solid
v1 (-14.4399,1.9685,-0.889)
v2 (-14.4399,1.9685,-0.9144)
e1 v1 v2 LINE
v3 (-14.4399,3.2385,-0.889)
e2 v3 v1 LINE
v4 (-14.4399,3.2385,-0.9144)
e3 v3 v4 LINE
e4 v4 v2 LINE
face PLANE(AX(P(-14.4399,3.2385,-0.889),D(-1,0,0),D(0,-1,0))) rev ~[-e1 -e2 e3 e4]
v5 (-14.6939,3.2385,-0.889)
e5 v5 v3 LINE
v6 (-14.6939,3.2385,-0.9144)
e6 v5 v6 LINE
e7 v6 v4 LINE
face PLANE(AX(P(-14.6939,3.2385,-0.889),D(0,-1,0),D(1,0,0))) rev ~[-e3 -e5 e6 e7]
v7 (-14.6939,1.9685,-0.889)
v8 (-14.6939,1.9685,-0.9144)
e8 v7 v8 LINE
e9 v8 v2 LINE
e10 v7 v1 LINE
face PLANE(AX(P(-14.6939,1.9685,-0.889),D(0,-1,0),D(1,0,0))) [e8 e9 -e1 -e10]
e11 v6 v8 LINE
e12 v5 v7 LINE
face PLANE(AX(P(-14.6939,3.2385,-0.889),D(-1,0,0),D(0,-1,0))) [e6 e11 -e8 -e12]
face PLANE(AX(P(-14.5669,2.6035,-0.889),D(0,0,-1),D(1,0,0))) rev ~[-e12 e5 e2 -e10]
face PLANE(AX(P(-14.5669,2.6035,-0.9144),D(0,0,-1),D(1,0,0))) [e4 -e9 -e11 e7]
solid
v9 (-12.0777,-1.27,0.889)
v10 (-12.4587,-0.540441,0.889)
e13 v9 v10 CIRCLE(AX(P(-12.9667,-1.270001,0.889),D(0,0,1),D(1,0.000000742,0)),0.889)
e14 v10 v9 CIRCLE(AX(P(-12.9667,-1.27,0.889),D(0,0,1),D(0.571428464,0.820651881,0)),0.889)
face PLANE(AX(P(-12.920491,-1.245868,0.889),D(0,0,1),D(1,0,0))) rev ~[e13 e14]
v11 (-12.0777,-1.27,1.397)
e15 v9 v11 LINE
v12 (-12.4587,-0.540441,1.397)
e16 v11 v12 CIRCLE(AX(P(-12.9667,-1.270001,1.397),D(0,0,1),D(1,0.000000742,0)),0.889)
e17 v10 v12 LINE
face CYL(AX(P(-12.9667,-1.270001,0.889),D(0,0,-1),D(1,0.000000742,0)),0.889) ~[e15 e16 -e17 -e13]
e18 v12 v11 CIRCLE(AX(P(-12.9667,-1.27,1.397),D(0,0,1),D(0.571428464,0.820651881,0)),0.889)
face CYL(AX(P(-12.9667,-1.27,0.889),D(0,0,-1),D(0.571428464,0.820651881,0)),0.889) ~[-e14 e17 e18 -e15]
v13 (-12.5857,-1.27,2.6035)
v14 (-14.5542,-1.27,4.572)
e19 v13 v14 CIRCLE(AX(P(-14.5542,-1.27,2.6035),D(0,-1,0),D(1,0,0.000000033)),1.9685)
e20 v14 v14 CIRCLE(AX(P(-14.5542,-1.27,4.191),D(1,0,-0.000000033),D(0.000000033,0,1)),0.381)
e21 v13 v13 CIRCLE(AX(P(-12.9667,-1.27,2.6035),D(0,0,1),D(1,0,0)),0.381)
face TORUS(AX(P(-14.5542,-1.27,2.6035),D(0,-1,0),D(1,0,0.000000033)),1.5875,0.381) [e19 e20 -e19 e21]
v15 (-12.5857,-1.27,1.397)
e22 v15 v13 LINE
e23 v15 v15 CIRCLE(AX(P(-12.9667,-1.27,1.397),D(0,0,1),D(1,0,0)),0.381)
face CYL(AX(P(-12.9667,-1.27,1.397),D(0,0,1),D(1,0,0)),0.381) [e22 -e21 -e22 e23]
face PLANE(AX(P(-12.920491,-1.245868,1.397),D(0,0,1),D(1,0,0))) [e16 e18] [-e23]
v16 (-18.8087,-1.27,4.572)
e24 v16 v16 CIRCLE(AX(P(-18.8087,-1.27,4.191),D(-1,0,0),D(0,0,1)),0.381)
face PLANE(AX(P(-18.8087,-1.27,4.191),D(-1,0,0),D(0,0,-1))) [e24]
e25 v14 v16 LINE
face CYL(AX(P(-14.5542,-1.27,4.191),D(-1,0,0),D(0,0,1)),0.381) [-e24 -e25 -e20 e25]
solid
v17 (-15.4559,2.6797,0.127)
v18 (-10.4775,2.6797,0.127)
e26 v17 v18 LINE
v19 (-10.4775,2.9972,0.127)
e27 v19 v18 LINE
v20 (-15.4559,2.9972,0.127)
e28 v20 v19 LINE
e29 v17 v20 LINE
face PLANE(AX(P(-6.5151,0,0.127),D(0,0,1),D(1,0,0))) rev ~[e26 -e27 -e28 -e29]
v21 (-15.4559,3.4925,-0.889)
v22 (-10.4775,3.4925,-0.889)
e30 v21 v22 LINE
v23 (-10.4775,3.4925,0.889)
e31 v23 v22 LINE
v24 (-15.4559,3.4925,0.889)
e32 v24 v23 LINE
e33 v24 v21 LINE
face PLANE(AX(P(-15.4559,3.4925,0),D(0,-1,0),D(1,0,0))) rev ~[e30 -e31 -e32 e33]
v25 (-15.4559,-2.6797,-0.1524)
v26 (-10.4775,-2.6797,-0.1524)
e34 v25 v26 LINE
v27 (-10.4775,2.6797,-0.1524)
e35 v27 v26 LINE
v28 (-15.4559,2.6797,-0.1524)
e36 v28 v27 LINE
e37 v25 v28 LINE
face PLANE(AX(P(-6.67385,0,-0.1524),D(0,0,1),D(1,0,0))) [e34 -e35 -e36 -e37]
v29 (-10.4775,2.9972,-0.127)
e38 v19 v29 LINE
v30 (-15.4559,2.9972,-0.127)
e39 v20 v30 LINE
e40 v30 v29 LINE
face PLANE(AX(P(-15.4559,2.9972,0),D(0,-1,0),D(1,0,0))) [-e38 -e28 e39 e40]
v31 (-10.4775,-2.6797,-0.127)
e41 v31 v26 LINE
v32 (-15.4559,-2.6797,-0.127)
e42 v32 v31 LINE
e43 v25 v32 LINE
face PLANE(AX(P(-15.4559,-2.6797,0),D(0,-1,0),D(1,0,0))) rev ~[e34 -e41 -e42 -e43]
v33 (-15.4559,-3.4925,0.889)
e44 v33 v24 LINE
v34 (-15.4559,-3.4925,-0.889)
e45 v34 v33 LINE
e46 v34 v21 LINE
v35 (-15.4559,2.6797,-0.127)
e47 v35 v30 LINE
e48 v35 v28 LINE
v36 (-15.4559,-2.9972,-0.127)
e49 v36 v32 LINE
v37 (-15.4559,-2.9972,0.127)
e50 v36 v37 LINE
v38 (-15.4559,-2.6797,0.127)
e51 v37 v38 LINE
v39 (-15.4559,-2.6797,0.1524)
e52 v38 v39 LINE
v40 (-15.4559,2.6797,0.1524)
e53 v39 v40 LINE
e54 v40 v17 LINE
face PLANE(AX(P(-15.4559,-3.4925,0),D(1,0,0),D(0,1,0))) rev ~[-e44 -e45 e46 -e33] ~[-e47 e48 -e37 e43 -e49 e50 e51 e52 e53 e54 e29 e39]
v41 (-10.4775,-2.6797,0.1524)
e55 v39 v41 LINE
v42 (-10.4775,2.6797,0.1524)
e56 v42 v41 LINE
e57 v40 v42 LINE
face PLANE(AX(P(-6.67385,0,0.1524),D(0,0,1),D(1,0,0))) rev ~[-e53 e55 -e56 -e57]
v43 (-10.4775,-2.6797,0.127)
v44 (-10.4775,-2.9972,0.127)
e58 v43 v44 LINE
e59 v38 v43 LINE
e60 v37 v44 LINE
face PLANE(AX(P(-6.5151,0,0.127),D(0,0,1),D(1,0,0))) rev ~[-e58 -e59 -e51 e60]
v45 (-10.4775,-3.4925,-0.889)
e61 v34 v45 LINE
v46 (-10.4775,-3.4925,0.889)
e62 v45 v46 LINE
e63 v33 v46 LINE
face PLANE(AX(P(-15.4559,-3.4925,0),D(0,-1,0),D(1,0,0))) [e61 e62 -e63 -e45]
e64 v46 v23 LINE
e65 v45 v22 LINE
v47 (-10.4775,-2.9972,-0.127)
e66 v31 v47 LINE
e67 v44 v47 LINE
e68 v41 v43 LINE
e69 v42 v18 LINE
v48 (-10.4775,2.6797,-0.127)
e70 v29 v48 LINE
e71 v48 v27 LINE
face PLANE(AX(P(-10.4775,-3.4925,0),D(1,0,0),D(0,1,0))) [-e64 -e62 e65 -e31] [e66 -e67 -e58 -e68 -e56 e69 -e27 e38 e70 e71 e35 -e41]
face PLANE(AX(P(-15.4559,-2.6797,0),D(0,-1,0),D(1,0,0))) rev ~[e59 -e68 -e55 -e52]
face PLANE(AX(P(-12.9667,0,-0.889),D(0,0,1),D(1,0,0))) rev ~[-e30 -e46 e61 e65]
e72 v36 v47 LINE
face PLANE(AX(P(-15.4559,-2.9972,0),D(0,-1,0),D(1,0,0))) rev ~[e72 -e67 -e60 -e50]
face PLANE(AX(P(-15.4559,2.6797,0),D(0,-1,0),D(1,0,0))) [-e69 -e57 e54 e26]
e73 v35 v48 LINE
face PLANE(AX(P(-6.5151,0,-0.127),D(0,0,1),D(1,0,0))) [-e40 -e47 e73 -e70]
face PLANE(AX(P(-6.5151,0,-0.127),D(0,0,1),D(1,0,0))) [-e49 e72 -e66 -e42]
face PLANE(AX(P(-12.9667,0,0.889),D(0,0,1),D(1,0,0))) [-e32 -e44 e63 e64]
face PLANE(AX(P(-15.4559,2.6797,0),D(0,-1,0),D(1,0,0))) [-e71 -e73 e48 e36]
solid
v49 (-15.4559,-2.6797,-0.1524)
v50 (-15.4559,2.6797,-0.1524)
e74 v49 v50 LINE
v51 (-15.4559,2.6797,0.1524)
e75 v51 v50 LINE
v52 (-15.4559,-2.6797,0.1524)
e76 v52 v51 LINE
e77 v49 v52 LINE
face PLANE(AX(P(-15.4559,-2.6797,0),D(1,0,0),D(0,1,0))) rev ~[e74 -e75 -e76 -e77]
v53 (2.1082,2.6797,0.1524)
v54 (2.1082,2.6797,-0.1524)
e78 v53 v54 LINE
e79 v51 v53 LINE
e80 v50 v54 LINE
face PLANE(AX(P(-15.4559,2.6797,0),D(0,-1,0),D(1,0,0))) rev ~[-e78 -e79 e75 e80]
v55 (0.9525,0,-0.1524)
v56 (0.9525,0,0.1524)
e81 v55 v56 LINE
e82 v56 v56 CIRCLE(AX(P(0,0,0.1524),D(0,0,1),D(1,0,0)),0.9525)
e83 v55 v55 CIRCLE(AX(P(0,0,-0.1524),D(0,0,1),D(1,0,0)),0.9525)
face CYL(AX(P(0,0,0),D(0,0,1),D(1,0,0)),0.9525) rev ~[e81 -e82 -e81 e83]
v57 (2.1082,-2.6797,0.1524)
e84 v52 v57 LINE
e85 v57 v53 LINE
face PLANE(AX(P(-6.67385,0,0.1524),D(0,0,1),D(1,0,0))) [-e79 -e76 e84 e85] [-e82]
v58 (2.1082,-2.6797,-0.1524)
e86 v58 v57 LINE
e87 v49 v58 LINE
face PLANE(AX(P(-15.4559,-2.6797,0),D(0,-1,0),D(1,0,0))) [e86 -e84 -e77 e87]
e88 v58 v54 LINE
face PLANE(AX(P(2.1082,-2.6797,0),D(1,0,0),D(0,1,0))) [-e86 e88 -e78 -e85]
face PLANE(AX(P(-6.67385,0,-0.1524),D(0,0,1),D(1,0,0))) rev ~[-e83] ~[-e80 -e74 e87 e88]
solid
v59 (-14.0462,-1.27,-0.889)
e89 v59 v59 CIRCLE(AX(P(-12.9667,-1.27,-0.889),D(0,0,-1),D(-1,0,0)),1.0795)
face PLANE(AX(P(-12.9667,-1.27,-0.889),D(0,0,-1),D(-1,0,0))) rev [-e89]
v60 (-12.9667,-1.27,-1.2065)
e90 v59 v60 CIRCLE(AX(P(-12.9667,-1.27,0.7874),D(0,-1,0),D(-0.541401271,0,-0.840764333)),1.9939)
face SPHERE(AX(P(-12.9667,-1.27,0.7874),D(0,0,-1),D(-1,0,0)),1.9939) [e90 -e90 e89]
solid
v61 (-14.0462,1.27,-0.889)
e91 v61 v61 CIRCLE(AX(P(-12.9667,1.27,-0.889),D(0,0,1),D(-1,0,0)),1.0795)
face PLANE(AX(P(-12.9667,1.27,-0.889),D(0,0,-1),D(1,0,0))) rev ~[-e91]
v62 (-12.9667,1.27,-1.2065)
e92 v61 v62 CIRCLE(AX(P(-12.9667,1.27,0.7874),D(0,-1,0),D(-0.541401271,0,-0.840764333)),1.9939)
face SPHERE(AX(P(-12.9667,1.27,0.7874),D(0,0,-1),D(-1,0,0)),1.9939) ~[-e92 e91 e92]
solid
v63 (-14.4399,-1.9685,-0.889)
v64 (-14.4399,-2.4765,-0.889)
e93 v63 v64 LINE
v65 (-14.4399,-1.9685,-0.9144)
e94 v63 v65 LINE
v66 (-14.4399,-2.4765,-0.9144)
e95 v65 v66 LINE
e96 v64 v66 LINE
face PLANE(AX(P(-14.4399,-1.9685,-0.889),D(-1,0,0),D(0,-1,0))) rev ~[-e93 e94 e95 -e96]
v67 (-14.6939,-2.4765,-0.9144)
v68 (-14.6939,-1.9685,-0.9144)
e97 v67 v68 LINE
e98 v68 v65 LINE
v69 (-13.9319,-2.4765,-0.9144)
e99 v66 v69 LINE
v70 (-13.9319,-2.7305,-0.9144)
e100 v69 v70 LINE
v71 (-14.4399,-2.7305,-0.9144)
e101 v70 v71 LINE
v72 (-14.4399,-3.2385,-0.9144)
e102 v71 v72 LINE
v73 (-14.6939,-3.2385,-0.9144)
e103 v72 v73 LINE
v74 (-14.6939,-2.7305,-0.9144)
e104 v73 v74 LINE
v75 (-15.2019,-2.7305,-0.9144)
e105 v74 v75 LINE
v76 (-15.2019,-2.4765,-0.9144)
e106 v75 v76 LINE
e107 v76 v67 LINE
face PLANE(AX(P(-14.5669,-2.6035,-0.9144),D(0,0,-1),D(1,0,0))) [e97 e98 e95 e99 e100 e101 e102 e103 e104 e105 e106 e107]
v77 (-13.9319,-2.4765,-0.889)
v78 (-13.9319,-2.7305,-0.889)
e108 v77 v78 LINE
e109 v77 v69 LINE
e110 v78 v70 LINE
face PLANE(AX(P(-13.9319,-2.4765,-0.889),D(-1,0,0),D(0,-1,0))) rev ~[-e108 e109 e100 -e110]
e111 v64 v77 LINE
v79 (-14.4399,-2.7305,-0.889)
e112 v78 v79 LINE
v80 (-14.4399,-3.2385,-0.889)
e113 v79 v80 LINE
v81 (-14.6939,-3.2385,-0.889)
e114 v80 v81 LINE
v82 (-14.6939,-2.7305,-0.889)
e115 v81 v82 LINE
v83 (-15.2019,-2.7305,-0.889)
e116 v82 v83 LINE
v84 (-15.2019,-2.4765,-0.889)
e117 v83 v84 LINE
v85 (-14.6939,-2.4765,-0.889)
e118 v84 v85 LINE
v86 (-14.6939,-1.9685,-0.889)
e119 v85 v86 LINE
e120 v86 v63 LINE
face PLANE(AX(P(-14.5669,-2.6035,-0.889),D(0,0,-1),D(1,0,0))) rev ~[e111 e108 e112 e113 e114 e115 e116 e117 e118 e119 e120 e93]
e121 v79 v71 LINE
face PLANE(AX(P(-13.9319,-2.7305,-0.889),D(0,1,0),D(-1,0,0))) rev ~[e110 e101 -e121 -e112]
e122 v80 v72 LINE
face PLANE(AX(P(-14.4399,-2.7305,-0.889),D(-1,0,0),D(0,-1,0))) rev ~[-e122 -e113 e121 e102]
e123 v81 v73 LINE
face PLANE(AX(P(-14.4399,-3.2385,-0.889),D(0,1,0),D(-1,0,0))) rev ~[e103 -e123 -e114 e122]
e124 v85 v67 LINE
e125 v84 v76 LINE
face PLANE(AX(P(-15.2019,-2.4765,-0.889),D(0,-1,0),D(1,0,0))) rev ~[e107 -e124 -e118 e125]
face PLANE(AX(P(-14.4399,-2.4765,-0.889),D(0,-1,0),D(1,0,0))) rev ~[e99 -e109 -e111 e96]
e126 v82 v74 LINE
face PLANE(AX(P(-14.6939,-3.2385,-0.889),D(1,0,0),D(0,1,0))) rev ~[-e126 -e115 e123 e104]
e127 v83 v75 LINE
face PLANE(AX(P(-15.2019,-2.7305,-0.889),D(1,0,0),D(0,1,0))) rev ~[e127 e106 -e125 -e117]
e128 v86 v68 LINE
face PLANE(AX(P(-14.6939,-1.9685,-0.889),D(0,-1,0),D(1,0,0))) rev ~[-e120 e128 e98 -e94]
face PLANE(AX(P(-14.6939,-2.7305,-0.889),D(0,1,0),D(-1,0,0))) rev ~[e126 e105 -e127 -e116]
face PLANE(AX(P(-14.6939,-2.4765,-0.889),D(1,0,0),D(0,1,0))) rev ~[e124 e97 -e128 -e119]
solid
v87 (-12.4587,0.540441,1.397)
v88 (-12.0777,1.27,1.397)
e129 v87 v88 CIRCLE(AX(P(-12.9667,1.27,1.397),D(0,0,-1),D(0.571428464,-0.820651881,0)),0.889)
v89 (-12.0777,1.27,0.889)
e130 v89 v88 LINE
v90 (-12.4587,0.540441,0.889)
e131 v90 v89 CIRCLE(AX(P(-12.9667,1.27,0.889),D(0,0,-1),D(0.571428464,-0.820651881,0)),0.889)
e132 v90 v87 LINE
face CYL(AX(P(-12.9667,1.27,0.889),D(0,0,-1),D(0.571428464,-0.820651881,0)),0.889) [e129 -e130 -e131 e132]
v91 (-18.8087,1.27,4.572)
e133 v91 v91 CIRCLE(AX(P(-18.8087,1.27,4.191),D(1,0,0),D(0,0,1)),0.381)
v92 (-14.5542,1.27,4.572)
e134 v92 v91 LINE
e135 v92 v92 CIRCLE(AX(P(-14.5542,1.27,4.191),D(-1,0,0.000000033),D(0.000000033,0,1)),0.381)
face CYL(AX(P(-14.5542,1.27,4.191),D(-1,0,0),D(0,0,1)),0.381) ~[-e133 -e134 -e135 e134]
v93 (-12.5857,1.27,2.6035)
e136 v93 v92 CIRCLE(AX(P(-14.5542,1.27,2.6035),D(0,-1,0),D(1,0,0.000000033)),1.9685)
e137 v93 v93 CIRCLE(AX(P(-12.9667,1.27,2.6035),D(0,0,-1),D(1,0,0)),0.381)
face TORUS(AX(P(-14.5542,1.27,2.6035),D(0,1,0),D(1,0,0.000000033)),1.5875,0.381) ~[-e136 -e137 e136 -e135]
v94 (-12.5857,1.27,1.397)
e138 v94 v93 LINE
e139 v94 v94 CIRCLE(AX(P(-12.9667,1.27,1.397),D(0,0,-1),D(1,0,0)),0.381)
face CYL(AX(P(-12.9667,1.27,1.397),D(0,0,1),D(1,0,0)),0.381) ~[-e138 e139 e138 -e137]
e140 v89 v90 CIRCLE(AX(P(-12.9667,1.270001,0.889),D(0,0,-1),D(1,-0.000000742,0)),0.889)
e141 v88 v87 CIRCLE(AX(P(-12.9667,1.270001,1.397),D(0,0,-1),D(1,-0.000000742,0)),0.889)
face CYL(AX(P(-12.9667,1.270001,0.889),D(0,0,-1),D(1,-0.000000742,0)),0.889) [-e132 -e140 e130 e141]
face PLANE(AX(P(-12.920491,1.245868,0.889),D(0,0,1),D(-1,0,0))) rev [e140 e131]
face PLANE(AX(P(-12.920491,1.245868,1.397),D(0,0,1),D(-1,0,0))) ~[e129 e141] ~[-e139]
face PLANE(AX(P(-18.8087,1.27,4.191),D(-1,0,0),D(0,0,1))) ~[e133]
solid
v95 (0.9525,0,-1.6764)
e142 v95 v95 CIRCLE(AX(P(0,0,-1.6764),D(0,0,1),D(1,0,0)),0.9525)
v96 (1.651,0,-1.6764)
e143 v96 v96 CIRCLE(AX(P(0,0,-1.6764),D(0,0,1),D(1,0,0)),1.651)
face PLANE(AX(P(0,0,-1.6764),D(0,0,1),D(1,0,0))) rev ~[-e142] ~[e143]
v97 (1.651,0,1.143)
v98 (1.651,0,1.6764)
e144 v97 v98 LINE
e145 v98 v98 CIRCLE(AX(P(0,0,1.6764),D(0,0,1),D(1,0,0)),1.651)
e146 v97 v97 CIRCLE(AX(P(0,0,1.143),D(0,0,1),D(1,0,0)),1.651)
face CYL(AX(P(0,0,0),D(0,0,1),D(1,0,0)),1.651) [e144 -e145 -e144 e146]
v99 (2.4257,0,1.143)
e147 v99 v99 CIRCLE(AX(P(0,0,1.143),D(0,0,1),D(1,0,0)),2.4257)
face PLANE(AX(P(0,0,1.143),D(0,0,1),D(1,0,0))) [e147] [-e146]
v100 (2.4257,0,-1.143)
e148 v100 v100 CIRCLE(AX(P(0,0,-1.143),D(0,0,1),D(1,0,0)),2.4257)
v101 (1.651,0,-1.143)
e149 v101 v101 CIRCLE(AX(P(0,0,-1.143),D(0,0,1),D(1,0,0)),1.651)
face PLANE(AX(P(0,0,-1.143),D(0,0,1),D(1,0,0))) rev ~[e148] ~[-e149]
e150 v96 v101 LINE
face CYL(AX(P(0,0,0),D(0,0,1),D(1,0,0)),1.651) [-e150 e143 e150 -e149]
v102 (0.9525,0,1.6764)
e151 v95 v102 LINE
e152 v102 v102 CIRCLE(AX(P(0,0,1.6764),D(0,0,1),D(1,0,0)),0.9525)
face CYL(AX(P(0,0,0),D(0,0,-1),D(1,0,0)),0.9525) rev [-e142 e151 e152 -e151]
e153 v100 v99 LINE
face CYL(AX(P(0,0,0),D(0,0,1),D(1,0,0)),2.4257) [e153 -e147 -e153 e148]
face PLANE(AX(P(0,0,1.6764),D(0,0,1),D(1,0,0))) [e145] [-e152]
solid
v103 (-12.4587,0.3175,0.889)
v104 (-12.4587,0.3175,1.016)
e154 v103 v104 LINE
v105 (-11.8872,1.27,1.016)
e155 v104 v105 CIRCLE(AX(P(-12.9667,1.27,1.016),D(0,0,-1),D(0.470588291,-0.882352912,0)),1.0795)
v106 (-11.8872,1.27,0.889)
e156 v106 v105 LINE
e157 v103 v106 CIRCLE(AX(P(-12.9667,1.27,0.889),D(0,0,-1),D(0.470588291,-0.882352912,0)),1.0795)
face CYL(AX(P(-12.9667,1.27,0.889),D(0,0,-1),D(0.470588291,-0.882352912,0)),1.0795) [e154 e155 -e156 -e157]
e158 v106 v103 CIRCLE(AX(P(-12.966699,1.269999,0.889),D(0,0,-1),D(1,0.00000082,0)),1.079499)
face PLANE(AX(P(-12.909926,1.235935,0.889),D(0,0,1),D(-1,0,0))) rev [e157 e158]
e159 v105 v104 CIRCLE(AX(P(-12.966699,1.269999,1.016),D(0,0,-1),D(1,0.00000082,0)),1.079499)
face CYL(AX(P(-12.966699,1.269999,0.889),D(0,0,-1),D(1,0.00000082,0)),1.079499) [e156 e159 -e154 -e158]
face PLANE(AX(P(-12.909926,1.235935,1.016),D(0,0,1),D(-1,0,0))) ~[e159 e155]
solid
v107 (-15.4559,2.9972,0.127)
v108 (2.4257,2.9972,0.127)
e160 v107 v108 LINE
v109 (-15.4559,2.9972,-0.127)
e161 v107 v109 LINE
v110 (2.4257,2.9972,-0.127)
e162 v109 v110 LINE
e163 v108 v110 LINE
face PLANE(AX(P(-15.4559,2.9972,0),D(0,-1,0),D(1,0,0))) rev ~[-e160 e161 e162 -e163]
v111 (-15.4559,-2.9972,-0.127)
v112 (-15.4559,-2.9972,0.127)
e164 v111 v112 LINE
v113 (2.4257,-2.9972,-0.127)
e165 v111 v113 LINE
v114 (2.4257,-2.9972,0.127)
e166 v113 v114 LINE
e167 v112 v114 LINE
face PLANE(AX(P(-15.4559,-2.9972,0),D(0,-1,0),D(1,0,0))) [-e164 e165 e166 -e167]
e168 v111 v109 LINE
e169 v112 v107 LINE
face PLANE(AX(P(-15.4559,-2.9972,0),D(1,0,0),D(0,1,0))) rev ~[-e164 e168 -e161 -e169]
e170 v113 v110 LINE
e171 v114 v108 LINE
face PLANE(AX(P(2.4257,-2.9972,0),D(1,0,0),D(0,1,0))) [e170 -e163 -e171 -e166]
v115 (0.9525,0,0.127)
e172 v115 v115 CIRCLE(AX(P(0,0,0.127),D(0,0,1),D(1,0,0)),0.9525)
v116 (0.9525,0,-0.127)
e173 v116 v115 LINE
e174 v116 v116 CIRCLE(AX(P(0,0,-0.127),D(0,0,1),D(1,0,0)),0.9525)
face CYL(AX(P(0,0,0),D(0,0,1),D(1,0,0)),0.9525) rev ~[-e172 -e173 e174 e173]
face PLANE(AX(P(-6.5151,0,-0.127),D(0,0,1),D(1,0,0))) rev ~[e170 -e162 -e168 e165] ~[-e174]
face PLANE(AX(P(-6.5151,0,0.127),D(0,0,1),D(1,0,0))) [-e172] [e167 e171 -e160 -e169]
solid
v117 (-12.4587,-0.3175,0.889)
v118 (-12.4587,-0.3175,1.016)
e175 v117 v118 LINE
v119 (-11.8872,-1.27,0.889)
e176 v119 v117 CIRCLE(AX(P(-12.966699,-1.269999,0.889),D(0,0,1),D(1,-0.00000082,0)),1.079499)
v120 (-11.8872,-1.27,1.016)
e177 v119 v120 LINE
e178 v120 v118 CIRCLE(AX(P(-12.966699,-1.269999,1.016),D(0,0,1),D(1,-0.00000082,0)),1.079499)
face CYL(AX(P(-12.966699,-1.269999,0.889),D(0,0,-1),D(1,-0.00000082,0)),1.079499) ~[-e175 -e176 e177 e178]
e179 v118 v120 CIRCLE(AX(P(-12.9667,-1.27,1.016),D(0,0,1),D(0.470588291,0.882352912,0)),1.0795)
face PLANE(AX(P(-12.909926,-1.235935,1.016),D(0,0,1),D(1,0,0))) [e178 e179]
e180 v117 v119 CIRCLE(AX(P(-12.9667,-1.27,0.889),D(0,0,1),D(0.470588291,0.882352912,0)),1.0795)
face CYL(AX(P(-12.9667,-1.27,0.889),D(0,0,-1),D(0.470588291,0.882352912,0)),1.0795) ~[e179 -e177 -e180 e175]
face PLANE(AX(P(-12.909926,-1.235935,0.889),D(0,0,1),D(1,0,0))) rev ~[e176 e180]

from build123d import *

# Parameters (mm, degrees)
F0_R          = 2.4257
F0_R_2        = 1.651
F0_R_3        = 0.9525
F1_DEPTH      = 1.143
F1_DEPTH_BACK = 1.143
F2_DEPTH      = 1.6764
F3_W          = 17.8816
F3_H          = 5.9944
F4_DEPTH      = 0.127
F5_W          = 17.5641
F5_H          = 5.3594
F6_DEPTH      = 0.1524
F7_DEPTH      = 12.7
F8_W          = 4.9784
F8_H          = 6.985
F9_DEPTH      = 0.889
F16_R         = 0.508
F17_DEPTH     = 0.127
F19_DEPTH     = 0.508
F23_R         = 0.381
F26_W         = 0.254
F26_H         = 1.27
F27_DEPTH     = 0.0254


with BuildPart() as f1:
    # F0 (on Top) → F1 (new body, two sides)
    with BuildSketch(Plane.XY) as f1_sk:
        Circle(F0_R)
        Circle(F0_R_2, mode=Mode.SUBTRACT)
        Circle(F0_R_2)
        Circle(F0_R_3, mode=Mode.SUBTRACT)
    extrude(amount=F1_DEPTH)
    extrude(f1_sk.sketch, amount=-F1_DEPTH_BACK)

    # F0 (on Top) → F2 (join, symmetric)
    with BuildSketch(Plane.XY):
        Circle(F0_R_2)
        Circle(F0_R_3, mode=Mode.SUBTRACT)
    extrude(amount=F2_DEPTH, both=True)


with BuildPart() as f4:
    # F3 (on Top) → F4 (new body, symmetric)
    with BuildSketch(Plane.XY):
        with Locations((-6.5151, 0)):
            Rectangle(F3_W, F3_H)
    extrude(amount=F4_DEPTH, both=True)


with BuildPart() as f6:
    # F5 (on Top) → F6 (new body, symmetric)
    with BuildSketch(Plane.XY):
        with Locations((-6.67385, 0)):
            Rectangle(F5_W, F5_H)
    extrude(amount=F6_DEPTH, both=True)


with BuildPart() as f7_tool:
    # F0 (on Top) → F7 (new body, symmetric)
    with BuildSketch(Plane.XY):
        Circle(F0_R_3)
    extrude(amount=F7_DEPTH, both=True)


with BuildPart() as f4_1:
    add(f4.part)

    # F7: cut by f7_tool
    add(f7_tool.part, mode=Mode.SUBTRACT)


with BuildPart() as f6_1:
    add(f6.part)

    # F7: cut by f7_tool
    add(f7_tool.part, mode=Mode.SUBTRACT)


with BuildPart() as f9:
    # F8 (on Top) → F9 (new body, symmetric)
    with BuildSketch(Plane.XY):
        with Locations((-12.9667, 0)):
            Rectangle(F8_W, F8_H)
    extrude(amount=F9_DEPTH, both=True)

    # F10: cut F4, F6
    add(f4_1.part, mode=Mode.SUBTRACT)
    add(f6_1.part, mode=Mode.SUBTRACT)


with BuildPart() as f14:
    # F13 (on offset) → F14 (revolve)
    with BuildSketch(Plane.XZ.offset(1.27)):
        with BuildLine():
            Line((-12.9667, -1.2065), (-12.9667, -0.889))
            Line((-12.9667, -0.889), (-14.0462, -0.889))
            ThreePointArc((-14.0462, -0.889), (-13.529311, -1.125479), (-12.9667, -1.2065))
        make_face()
    revolve(axis=Axis((-12.9667, -1.27, -1.04775), (0, 0, -1)))


with BuildPart() as f15_1:
    # F15: instance of F14
    add(f14.part.mirror(Plane.XZ))


with BuildPart() as f17:
    # F16 (on face) → F17 (new body)
    with BuildSketch(Plane.XY.offset(0.889)):
        with BuildLine():
            ThreePointArc((-12.4587, -0.3175), (-13.892364, -1.825398), (-11.8872, -1.27))
            ThreePointArc((-11.8872, -1.27), (-12.041036, -0.714602), (-12.4587, -0.3175))
        make_face()
        with BuildLine():
            ThreePointArc((-12.0777, -1.27), (-13.754714, -1.681527), (-12.4587, -0.540441))
            ThreePointArc((-12.4587, -0.540441), (-12.178686, -0.858473), (-12.0777, -1.27))
        make_face(mode=Mode.SUBTRACT)
        with BuildLine():
            ThreePointArc((-12.0777, -1.27), (-12.178686, -0.858473), (-12.4587, -0.540441))
            ThreePointArc((-12.4587, -0.540441), (-13.754714, -1.681527), (-12.0777, -1.27))
        make_face()
        with Locations((-12.9667, -1.27)):
            Circle(F16_R, mode=Mode.SUBTRACT)
        with Locations((-12.9667, -1.27)):
            Circle(F16_R)
    extrude(amount=F17_DEPTH)


with BuildPart() as f18_1:
    # F18: instance of F17
    add(f17.part.mirror(Plane.XZ))


with BuildPart() as f19:
    # F16 (on face) → F19 (new body)
    with BuildSketch(Plane.XY.offset(0.889)):
        with BuildLine():
            ThreePointArc((-12.0777, -1.27), (-12.178686, -0.858473), (-12.4587, -0.540441))
            ThreePointArc((-12.4587, -0.540441), (-13.754714, -1.681527), (-12.0777, -1.27))
        make_face()
        with Locations((-12.9667, -1.27)):
            Circle(F16_R, mode=Mode.SUBTRACT)
        with Locations((-12.9667, -1.27)):
            Circle(F16_R)
    extrude(amount=F19_DEPTH)

    # F24: sweep along a path in F22
    with BuildLine(Plane(origin=(0, -1.27, 0), x_dir=(-1, 0, 0), z_dir=(0, 1, 0))) as f24_path:
        Line((12.9667, 1.397), (12.9667, 2.6035))
        ThreePointArc((12.9667, 2.6035), (13.431668, 3.726032), (14.5542, 4.191))
        Line((14.5542, 4.191), (18.8087, 4.191))
    # F23 (on face) → F24 (sweep)
    with BuildSketch(Plane.XY.offset(1.397)):
        with Locations((-12.9667, -1.27)):
            Circle(F23_R)
    sweep(path=f24_path.line)


with BuildPart() as f25_1:
    # F25: instance of F19
    add(f19.part.mirror(Plane.XZ))


with BuildPart() as f27:
    # F26 (on face) → F27 (new body)
    with BuildSketch(Plane(origin=(0, 0, -0.889), x_dir=(1, 0, 0), z_dir=(0, 0, -1))):
        Polygon((-14.4399, 3.2385), (-14.6939, 3.2385), (-14.6939, 2.7305), (-15.2019, 2.7305), (-15.2019, 2.4765), (-14.6939, 2.4765), (-14.6939, 1.9685), (-14.4399, 1.9685), (-14.4399, 2.4765), (-13.9319, 2.4765), (-13.9319, 2.7305), (-14.4399, 2.7305), align=None)
        with Locations((-14.5669, -2.6035)):
            Rectangle(F26_W, F26_H)
    extrude(amount=F27_DEPTH)


solid = Compound([f1.part, f4_1.part, f6_1.part, f9.part, f14.part, f15_1.part, f17.part, f18_1.part, f19.part, f25_1.part, f27.part])
